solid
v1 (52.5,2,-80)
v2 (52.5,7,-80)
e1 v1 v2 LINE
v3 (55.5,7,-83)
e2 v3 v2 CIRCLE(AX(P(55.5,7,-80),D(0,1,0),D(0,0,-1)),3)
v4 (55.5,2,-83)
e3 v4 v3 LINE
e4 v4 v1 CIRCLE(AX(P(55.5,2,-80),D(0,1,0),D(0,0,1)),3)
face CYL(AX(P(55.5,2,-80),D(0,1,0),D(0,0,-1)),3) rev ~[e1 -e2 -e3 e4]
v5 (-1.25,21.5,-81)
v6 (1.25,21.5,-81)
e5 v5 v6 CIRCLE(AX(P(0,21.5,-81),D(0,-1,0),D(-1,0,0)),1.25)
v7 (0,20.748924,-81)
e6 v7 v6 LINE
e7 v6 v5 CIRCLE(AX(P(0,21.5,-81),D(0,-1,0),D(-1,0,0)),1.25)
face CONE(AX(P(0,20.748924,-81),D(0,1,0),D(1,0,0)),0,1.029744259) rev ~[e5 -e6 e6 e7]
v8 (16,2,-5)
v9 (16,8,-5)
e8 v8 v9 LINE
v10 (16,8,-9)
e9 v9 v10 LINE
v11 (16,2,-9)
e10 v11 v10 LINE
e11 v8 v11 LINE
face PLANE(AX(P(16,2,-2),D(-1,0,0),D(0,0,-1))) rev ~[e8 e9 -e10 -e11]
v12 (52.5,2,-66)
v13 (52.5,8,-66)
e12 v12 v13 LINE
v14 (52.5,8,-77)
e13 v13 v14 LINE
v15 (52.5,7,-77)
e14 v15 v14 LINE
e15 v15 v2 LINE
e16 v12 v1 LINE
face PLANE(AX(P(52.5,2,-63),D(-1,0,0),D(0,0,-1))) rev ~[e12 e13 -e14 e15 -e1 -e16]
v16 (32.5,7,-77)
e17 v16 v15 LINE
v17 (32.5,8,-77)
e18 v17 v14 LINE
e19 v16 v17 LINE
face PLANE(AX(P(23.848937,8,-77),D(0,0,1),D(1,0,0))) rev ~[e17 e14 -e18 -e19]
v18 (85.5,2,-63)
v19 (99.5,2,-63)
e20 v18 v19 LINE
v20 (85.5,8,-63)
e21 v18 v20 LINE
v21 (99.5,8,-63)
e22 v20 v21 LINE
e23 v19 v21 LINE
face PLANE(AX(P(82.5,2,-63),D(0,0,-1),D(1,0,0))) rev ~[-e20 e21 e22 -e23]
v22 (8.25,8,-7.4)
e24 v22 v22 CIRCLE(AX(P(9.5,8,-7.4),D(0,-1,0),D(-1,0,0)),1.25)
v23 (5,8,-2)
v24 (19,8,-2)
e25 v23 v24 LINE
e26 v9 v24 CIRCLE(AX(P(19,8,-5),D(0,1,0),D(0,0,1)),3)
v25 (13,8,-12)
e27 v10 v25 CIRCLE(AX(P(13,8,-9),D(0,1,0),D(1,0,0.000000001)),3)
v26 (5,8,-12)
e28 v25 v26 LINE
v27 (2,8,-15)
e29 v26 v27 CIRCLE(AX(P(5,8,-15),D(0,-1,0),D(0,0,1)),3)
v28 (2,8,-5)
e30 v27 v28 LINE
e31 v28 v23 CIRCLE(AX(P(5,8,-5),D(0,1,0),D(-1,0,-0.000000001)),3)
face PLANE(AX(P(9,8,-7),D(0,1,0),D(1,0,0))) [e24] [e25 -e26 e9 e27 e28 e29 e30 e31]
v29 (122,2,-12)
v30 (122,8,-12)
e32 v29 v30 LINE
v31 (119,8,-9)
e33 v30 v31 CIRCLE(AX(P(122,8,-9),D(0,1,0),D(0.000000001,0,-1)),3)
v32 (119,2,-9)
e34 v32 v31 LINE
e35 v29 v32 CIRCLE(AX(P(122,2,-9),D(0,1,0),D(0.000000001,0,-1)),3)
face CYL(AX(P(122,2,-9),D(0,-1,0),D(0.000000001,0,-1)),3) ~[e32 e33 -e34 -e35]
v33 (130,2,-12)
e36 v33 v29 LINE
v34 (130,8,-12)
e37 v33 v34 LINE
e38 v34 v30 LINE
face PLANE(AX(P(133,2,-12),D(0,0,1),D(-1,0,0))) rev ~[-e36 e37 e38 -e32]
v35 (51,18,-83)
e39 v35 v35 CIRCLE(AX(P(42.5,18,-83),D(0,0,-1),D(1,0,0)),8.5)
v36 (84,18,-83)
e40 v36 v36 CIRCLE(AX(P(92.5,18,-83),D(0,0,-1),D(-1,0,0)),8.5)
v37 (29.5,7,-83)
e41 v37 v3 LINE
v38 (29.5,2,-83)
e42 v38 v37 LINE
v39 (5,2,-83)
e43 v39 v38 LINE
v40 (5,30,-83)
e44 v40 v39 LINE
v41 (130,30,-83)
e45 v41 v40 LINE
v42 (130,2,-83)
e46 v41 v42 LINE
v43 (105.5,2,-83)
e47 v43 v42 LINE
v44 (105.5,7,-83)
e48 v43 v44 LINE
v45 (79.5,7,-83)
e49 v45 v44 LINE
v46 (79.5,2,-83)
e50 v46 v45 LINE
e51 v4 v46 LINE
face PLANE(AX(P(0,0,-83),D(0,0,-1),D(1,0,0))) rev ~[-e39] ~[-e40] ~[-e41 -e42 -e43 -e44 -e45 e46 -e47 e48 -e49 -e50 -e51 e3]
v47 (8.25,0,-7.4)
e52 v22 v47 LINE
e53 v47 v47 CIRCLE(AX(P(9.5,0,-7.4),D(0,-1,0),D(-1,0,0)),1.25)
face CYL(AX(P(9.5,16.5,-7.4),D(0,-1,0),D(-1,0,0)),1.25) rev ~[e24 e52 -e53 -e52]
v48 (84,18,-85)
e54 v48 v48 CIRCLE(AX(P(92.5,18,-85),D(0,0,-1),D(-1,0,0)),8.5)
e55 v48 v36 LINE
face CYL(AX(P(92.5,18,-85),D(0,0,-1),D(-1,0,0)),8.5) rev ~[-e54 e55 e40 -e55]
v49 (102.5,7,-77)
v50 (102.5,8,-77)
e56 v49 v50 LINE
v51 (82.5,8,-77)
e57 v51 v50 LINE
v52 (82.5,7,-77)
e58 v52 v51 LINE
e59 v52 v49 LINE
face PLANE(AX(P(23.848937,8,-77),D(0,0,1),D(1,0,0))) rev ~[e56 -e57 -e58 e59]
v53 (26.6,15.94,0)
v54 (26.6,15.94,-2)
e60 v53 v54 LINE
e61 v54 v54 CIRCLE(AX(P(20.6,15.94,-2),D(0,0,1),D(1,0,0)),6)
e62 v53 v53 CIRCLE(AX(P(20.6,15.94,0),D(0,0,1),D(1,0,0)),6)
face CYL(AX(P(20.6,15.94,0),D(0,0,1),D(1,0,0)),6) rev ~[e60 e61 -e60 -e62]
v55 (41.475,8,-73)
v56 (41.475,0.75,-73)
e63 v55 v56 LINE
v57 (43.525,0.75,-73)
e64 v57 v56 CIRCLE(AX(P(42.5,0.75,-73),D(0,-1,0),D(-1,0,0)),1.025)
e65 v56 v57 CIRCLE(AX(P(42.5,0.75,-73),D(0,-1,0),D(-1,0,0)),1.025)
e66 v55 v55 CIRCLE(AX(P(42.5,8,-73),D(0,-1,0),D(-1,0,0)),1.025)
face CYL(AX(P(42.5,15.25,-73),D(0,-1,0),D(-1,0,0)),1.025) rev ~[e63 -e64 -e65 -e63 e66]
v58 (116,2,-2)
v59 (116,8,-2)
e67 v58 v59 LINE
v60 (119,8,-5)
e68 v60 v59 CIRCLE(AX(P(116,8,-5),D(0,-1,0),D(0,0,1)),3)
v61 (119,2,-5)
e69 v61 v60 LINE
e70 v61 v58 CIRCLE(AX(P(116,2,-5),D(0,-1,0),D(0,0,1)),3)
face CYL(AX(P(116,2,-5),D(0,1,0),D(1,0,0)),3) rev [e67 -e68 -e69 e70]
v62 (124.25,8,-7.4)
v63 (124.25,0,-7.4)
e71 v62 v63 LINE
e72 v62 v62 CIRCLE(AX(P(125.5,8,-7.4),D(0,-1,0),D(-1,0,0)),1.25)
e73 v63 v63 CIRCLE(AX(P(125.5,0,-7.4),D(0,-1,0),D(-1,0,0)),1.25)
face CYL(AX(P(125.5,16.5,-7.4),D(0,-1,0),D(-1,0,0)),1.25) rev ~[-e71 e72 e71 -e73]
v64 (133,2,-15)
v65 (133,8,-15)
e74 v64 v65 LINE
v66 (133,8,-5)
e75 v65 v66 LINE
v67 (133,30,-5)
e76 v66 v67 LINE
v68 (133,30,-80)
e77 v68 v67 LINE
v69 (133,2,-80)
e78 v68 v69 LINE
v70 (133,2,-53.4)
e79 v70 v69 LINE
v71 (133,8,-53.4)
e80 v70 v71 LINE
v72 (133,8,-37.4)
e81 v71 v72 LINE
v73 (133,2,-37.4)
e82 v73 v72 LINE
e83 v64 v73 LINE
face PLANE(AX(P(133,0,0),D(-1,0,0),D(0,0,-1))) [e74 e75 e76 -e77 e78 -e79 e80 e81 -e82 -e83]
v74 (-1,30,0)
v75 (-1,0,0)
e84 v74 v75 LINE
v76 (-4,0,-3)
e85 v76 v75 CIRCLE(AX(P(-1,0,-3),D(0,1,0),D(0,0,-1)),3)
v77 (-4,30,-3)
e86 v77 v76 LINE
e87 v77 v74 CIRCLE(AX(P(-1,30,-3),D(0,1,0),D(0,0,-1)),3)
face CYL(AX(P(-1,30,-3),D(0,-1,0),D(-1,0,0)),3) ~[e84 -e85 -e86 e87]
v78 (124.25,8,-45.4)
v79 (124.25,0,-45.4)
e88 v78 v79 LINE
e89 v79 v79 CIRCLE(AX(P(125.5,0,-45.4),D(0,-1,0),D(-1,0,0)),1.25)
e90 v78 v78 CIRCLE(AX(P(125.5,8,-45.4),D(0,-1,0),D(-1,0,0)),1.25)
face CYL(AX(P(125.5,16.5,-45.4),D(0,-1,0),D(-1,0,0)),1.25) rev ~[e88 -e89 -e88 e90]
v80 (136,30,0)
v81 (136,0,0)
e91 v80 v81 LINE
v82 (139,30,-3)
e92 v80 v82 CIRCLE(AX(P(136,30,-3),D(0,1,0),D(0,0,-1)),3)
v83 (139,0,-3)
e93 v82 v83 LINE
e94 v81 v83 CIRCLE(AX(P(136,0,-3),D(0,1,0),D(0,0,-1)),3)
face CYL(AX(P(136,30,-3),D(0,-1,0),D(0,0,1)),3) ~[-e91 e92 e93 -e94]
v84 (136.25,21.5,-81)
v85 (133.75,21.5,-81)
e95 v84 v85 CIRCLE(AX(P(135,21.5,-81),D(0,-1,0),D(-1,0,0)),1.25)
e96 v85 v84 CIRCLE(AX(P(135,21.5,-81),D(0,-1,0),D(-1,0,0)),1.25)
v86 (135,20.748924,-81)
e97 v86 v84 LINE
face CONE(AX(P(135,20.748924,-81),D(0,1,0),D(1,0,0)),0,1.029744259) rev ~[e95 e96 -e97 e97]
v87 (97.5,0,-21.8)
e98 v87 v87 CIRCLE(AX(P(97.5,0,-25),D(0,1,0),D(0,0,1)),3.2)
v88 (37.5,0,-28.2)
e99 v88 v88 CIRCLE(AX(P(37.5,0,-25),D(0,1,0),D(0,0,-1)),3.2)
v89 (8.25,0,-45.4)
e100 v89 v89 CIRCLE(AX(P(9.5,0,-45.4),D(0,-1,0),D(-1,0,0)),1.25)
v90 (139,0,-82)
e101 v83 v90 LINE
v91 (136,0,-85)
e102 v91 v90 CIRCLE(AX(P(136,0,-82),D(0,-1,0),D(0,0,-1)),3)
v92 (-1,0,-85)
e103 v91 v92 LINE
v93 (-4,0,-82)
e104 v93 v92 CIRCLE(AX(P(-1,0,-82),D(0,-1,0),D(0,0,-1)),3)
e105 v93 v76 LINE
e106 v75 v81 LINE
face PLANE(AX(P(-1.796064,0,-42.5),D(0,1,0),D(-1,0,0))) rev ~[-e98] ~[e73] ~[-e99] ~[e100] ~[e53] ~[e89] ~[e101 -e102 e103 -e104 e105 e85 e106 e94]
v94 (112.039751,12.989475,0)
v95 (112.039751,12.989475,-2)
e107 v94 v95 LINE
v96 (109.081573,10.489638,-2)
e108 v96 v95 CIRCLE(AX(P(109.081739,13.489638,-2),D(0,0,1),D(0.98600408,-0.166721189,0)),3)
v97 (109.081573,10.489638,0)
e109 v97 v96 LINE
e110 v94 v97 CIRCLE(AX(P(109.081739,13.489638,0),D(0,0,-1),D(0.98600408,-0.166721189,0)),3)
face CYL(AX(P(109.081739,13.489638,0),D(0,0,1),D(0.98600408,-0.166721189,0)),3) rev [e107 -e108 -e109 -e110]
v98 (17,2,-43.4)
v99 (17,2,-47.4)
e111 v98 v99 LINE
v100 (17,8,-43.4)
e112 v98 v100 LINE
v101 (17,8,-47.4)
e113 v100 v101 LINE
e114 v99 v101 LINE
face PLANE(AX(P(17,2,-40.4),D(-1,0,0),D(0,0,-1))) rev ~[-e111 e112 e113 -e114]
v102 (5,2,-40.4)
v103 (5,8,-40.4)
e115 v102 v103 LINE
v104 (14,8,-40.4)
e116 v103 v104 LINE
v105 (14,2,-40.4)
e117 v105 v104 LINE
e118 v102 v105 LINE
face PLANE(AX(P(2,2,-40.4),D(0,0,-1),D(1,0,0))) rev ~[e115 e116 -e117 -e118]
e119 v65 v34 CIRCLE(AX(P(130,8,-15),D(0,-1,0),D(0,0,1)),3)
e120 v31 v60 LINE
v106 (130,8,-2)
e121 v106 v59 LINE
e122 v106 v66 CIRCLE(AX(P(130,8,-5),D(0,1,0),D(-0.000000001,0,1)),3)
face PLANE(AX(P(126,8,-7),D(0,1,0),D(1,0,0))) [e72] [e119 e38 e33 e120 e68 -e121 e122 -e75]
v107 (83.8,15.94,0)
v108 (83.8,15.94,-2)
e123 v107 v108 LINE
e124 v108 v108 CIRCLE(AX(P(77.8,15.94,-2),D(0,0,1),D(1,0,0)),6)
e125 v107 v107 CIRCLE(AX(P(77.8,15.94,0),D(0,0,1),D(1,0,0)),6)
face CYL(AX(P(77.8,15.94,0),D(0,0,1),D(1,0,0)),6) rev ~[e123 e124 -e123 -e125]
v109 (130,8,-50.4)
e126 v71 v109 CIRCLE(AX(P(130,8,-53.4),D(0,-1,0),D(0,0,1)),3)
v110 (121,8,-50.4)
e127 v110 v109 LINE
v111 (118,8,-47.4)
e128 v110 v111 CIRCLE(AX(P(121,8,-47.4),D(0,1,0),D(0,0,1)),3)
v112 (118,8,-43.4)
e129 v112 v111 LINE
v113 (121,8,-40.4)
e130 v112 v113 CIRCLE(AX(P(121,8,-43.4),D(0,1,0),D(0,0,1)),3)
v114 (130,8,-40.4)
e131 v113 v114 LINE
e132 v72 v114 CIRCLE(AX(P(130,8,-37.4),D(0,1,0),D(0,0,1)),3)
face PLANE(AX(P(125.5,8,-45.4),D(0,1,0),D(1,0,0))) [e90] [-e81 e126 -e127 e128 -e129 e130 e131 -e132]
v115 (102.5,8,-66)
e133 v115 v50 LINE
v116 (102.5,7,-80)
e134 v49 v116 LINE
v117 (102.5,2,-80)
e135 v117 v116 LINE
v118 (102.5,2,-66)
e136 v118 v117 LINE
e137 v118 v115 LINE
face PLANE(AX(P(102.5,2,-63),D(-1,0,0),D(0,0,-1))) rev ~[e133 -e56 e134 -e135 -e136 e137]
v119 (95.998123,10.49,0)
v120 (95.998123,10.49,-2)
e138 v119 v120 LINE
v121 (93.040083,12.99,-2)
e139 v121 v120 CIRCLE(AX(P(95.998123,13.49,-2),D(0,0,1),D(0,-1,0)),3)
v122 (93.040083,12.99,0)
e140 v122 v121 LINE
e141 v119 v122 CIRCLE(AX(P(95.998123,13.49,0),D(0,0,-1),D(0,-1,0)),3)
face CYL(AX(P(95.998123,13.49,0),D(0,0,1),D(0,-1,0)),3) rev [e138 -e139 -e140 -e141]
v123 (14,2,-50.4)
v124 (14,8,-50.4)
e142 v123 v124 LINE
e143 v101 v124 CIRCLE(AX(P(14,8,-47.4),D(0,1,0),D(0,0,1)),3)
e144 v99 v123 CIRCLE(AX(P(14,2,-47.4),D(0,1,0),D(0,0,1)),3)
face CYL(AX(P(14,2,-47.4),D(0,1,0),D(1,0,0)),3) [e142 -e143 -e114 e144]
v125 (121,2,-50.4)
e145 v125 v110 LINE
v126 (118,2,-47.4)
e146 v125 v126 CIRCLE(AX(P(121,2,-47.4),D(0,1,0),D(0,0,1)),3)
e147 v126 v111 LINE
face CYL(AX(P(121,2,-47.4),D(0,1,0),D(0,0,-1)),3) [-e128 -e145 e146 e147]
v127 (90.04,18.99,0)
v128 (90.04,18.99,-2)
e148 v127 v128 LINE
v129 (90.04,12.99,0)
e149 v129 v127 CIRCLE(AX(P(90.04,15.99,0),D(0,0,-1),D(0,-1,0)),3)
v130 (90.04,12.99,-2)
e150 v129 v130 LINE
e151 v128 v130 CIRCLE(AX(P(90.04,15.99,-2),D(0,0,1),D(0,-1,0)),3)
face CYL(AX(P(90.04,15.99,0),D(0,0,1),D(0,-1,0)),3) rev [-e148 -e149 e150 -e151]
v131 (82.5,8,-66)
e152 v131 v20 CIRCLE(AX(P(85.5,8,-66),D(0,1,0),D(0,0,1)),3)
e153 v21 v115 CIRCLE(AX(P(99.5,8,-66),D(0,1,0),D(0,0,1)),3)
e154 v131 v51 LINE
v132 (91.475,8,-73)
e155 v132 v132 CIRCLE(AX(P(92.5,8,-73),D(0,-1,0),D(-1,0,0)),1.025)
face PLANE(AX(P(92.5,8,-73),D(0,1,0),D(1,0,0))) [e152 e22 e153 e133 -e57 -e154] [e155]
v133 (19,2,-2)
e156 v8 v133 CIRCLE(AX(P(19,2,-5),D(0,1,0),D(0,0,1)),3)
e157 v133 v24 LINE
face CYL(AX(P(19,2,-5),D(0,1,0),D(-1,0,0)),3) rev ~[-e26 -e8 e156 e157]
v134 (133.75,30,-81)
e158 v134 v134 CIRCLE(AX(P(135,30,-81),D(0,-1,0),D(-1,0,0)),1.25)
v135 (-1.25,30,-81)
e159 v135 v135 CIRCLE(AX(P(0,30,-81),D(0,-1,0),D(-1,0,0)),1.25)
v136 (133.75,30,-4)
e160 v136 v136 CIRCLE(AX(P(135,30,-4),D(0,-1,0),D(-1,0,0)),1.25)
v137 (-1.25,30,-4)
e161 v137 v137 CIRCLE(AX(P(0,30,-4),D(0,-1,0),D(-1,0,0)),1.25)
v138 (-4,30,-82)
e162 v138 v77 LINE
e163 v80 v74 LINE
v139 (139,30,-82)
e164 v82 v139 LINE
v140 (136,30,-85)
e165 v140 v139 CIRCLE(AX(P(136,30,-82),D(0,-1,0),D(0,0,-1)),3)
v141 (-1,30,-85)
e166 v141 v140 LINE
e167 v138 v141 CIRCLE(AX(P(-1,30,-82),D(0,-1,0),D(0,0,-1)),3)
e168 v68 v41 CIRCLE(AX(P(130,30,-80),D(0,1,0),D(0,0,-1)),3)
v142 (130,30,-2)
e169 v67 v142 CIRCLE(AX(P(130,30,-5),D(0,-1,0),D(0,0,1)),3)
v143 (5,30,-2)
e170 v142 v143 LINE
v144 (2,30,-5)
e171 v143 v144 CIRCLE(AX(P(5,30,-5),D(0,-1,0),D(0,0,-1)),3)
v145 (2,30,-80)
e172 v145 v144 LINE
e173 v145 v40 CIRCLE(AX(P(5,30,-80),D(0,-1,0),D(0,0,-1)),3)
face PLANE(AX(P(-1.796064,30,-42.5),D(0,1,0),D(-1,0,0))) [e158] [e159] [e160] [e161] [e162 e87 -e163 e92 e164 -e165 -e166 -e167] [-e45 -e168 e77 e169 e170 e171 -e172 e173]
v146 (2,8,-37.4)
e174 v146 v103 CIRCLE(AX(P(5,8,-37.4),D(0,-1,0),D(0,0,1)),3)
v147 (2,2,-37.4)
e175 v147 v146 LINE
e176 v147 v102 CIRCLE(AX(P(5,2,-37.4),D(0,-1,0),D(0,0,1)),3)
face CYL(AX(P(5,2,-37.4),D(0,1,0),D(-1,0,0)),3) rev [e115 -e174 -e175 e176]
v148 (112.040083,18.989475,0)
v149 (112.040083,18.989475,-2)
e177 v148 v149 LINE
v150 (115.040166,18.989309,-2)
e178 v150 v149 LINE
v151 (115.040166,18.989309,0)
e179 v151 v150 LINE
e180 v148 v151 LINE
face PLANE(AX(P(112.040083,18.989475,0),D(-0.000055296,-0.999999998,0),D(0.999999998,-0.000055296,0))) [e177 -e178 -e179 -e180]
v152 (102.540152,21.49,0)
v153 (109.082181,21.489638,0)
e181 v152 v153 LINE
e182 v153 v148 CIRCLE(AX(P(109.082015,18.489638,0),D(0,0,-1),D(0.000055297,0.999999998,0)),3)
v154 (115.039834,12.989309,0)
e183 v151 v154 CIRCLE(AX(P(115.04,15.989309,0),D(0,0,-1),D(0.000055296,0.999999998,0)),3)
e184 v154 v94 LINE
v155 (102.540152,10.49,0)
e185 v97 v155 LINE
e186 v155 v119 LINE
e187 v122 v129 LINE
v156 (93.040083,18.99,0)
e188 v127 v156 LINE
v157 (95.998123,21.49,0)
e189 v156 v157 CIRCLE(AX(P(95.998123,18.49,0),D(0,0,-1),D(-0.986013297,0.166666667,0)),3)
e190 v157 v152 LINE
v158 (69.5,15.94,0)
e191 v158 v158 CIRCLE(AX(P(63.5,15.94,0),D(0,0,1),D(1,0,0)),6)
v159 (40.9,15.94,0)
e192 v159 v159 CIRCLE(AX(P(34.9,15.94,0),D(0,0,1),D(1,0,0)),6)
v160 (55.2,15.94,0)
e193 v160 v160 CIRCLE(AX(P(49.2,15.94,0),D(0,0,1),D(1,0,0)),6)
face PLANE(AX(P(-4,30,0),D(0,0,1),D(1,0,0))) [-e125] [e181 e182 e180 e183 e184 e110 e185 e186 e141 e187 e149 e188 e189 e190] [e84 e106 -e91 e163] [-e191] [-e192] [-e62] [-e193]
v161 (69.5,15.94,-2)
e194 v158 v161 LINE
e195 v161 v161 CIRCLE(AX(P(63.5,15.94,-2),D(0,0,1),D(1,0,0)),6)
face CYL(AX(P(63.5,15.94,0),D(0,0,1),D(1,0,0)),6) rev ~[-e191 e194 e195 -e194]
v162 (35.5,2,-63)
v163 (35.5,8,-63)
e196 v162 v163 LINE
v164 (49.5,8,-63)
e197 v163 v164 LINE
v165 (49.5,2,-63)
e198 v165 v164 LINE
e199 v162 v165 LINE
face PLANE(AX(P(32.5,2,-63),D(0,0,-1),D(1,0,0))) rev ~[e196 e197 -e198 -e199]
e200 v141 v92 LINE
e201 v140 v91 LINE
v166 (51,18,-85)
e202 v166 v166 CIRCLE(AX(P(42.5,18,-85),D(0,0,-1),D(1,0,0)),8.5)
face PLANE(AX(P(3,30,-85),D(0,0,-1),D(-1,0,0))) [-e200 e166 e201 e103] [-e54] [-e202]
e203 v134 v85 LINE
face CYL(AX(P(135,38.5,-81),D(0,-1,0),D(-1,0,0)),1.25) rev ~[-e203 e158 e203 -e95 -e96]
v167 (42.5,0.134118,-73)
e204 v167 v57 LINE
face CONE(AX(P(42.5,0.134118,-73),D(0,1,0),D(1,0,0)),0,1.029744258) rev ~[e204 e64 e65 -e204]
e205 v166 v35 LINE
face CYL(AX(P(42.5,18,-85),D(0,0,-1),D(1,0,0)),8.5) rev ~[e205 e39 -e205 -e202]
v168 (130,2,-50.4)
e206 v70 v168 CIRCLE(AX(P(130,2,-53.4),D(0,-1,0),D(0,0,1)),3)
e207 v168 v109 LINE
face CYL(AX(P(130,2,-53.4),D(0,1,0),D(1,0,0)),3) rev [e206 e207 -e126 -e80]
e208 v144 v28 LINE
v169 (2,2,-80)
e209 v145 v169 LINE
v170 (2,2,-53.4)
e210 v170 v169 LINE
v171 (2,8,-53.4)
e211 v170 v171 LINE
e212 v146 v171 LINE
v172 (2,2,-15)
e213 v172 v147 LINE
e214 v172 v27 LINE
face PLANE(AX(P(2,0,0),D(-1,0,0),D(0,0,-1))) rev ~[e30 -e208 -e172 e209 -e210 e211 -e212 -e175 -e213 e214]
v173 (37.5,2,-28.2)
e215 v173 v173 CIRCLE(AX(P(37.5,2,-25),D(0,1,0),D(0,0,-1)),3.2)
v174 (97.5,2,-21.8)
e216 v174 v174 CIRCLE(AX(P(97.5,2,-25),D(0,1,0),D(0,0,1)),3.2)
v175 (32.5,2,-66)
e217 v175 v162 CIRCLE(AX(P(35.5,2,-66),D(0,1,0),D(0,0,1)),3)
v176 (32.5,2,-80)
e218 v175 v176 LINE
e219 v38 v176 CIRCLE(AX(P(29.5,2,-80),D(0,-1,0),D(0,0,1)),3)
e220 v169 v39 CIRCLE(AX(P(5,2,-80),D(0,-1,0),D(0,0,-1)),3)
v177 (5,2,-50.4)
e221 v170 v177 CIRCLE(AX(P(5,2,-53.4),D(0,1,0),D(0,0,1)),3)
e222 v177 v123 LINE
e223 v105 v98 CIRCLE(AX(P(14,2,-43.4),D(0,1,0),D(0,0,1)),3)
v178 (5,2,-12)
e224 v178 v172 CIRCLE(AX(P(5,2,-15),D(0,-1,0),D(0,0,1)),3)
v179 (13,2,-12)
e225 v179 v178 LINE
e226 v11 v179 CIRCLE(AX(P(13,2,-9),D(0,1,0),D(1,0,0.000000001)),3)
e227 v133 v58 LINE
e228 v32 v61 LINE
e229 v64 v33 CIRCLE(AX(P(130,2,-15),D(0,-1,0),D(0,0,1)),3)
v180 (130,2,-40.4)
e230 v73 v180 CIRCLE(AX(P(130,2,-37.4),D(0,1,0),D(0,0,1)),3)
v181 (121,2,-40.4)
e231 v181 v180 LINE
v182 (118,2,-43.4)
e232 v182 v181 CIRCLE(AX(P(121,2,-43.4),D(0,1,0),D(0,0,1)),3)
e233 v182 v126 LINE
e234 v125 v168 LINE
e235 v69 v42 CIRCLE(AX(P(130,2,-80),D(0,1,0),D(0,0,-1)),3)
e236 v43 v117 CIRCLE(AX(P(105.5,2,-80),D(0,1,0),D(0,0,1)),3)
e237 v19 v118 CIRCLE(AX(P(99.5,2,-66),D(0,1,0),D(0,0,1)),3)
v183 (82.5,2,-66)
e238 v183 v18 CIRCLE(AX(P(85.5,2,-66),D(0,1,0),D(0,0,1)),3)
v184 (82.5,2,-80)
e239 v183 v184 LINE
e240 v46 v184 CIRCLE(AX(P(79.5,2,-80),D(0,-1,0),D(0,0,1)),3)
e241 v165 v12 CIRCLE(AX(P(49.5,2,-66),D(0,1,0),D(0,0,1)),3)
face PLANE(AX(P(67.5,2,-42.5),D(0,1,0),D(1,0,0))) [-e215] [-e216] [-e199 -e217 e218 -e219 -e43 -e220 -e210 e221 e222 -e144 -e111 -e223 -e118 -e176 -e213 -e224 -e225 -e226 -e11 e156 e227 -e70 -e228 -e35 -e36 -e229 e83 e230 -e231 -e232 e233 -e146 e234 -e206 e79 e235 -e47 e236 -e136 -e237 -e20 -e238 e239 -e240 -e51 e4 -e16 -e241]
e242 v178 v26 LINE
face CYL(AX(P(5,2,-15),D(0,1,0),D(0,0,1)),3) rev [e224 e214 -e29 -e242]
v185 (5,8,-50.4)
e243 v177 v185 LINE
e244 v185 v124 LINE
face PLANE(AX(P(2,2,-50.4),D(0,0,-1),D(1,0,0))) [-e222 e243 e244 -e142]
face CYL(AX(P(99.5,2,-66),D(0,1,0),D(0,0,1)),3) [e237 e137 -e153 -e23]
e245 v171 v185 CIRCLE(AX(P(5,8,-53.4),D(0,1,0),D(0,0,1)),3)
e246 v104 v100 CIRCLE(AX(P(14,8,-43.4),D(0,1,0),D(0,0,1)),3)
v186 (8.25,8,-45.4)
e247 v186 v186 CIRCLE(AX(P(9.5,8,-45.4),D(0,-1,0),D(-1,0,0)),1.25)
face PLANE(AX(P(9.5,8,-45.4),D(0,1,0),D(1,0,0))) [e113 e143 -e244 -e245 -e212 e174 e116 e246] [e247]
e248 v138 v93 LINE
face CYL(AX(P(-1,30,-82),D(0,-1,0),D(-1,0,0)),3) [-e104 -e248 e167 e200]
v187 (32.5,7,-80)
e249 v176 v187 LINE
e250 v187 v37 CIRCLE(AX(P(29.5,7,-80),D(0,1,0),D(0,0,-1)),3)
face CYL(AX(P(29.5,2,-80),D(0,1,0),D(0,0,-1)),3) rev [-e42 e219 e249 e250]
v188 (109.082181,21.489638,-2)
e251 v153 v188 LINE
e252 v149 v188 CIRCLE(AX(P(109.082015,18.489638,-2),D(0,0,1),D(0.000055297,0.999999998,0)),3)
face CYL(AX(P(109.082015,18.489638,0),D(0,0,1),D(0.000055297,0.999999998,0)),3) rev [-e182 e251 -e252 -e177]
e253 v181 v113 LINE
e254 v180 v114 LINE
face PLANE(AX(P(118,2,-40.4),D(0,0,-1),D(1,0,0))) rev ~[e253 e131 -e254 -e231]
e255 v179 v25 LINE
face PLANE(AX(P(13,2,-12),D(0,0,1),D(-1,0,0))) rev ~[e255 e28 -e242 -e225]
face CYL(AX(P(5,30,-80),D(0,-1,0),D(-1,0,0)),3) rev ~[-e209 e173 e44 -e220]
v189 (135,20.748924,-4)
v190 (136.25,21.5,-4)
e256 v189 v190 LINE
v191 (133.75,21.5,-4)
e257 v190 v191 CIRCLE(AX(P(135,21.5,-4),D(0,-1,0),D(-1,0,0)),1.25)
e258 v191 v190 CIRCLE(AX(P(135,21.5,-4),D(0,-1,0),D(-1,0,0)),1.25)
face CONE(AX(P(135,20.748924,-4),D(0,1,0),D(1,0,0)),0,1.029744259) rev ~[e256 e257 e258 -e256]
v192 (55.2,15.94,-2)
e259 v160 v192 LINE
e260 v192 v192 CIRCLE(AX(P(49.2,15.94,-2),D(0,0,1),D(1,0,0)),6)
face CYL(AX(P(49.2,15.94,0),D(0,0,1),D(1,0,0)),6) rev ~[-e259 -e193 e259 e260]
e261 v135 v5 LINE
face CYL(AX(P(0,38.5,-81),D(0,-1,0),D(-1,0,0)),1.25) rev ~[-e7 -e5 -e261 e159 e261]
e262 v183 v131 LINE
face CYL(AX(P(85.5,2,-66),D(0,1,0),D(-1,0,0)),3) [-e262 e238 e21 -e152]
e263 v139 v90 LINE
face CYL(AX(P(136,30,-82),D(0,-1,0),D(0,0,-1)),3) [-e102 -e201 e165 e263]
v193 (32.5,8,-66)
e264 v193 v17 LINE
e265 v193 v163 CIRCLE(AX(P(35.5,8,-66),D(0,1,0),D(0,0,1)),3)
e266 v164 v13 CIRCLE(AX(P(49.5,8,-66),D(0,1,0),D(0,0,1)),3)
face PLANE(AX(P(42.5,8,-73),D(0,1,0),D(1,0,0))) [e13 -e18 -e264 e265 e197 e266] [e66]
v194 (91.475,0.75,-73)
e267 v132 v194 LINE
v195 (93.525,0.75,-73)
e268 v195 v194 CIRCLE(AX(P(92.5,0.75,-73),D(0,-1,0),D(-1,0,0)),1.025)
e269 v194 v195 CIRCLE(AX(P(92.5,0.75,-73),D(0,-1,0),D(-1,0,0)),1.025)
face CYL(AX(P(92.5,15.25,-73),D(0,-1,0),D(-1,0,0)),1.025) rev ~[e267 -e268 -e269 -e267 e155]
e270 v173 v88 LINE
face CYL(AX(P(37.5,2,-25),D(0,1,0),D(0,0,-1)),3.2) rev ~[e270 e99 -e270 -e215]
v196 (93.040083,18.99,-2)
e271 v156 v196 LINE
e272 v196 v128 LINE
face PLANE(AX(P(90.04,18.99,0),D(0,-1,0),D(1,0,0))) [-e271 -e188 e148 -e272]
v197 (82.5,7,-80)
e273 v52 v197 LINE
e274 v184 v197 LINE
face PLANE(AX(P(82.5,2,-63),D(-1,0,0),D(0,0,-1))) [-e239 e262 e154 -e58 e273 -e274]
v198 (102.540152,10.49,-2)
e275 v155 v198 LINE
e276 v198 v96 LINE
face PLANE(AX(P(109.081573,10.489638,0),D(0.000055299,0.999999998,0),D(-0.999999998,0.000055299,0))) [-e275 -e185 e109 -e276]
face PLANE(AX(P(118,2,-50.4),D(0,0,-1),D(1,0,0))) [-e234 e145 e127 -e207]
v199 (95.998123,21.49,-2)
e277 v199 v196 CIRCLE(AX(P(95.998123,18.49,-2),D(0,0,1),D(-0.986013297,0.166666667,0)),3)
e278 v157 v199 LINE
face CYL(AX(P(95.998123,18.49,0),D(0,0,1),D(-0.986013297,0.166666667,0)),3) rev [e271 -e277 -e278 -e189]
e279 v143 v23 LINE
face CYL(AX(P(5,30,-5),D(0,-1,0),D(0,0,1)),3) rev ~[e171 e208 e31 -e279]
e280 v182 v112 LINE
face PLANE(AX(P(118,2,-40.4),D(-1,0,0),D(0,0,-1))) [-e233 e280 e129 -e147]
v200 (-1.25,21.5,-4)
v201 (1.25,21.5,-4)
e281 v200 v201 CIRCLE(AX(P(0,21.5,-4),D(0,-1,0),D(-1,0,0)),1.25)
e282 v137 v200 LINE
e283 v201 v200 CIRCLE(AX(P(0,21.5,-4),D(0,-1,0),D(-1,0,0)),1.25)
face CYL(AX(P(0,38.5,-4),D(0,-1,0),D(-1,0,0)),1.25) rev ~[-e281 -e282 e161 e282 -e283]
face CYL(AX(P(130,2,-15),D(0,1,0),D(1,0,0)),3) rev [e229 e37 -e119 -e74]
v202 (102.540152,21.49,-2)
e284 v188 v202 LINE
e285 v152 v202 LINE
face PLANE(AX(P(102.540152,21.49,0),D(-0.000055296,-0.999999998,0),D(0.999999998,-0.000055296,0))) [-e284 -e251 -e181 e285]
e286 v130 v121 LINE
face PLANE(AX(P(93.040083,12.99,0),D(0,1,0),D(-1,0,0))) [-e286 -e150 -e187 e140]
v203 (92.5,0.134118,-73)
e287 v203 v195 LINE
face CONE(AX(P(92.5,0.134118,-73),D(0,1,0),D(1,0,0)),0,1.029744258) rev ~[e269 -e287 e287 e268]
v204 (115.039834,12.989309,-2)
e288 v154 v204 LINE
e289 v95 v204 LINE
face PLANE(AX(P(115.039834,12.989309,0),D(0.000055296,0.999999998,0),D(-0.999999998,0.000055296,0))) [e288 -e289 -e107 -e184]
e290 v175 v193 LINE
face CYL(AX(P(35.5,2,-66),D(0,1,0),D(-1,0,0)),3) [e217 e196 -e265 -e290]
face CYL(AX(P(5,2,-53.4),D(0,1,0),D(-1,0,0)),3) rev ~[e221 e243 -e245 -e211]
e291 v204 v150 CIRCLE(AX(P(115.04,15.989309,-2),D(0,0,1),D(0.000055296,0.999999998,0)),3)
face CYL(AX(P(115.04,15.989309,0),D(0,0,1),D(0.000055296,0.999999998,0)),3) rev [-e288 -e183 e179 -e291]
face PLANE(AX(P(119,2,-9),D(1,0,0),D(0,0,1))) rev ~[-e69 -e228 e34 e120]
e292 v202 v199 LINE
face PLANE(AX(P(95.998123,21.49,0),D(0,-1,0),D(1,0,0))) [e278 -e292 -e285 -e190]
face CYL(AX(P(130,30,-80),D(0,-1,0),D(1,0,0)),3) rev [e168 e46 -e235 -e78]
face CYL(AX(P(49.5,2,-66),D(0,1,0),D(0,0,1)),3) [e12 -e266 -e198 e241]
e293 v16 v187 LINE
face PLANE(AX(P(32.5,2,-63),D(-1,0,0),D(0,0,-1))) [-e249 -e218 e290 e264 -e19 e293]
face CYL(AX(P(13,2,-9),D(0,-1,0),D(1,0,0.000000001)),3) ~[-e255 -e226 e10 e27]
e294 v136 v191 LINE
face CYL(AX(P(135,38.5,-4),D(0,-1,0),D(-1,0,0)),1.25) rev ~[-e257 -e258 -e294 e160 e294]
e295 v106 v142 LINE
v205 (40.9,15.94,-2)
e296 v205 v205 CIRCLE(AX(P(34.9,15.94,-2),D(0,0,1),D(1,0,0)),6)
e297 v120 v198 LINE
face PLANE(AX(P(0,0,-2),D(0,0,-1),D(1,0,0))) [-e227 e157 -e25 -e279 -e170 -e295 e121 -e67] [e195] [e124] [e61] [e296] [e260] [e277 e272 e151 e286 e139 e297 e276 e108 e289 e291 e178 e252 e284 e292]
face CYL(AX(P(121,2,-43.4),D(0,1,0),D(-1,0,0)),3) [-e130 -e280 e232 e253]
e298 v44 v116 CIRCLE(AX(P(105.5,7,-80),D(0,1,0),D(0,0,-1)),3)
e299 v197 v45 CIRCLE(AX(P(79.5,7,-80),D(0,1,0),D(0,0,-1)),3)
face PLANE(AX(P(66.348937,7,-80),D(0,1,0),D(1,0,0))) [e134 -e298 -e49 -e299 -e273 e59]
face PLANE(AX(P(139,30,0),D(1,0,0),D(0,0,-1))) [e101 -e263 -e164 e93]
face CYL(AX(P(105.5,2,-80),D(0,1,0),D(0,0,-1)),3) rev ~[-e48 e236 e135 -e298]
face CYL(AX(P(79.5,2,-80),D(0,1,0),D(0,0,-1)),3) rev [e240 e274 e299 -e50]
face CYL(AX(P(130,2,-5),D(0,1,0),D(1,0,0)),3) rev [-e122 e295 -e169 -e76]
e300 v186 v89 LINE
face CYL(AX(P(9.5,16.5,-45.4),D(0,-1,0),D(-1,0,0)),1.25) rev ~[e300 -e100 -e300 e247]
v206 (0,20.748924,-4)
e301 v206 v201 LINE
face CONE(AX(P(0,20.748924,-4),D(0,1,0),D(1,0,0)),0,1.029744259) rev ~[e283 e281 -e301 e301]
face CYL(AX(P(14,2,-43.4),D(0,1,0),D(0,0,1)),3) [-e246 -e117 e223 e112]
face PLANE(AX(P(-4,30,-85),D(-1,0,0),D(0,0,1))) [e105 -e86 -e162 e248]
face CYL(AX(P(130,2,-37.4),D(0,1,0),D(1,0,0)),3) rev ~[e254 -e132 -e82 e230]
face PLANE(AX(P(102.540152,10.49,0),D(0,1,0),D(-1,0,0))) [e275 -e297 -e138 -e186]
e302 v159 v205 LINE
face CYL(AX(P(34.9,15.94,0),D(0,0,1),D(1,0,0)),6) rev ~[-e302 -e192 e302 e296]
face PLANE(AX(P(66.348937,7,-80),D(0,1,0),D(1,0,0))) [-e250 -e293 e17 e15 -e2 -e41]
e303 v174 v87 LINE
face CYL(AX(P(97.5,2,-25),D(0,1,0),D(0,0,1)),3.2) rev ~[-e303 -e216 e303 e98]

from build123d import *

# Parameters (mm, degrees)
SKIZZE1_W                       = 135
SKIZZE1_H                       = 85
AUFSATZ_LINEAR_AUSTRAGEN1_DEPTH = 30
SCHALE1_T                       = -2
SKIZZE2_R                       = 6
SCHNITT_LINEAR_AUSTRAGEN1_DEPTH = 30
SCHNITT_LINEAR_AUSTRAGEN2_DEPTH = 10
VERRUNDUNG1_R                   = 3
AUFSATZ_LINEAR_AUSTRAGEN2_DEPTH = 6
VERRUNDUNG2_R                   = 3
SKIZZE5_W                       = 15
SKIZZE5_H                       = 10
AUFSATZ_LINEAR_AUSTRAGEN3_DEPTH = 6
VERRUNDUNG3_R                   = 3
SKIZZE6_R                       = 8.5
SCHNITT_LINEAR_AUSTRAGEN3_DEPTH = 5
SKIZZE7_W                       = 20
SKIZZE7_H                       = 20
AUFSATZ_LINEAR_AUSTRAGEN4_DEPTH = 6
VERRUNDUNG4_R                   = 3
M3_GEWINDEBOHRUNG1_D            = 2.5
M3_GEWINDEBOHRUNG1_DEPTH        = 8.5
M3_GEWINDEBOHRUNG1_TIP          = 0.751075774
M2_5_GEWINDEBOHRUNG1_D          = 2.05
M2_5_GEWINDEBOHRUNG1_DEPTH      = 7.25
M2_5_GEWINDEBOHRUNG1_TIP        = 0.615882135
SKIZZE12_W                      = 85
SKIZZE12_H                      = 6
SCHNITT_LINEAR_AUSTRAGEN4_DEPTH = 1
SKIZZE13_R                      = 3.2
SCHNITT_LINEAR_AUSTRAGEN5_DEPTH = 10
AUFSATZ_LINEAR_START            = -30
AUFSATZ_LINEAR_AUSTRAGEN5_DEPTH = 30
M3_GEWINDEBOHRUNG2_D            = 2.5
M3_GEWINDEBOHRUNG2_DEPTH        = 8.5
M3_GEWINDEBOHRUNG2_TIP          = 0.751075774
VERRUNDUNG5_R                   = 3


with BuildPart() as part:
    # Skizze1 → Aufsatz-Linear austragen1 (new body)
    with BuildSketch(Plane(origin=(0, 0, 0), x_dir=(1, 0, 0), z_dir=(0, 1, 0))):
        with Locations((67.5, 42.5)):
            Rectangle(SKIZZE1_W, SKIZZE1_H)
    extrude(amount=AUFSATZ_LINEAR_AUSTRAGEN1_DEPTH)

    # Schale1
    schale1_openings = [part.faces().sort_by_distance(p)[0] for p in [
        (67.5, 30, -42.5),
    ]]
    offset(amount=SCHALE1_T, openings=schale1_openings, kind=Kind.INTERSECTION)

    # Skizze2 → Schnitt-Linear austragen1 (cut)
    with BuildSketch(Plane.XY):
        with Locations((20.6, 15.94)):
            Circle(SKIZZE2_R)
        with Locations((34.9, 15.94)):
            Circle(SKIZZE2_R)
        with Locations((49.2, 15.94)):
            Circle(SKIZZE2_R)
        with Locations((63.5, 15.94)):
            Circle(SKIZZE2_R)
        with Locations((77.8, 15.94)):
            Circle(SKIZZE2_R)
    extrude(amount=-SCHNITT_LINEAR_AUSTRAGEN1_DEPTH, mode=Mode.SUBTRACT)

    # Skizze3 → Schnitt-Linear austragen2 (cut)
    with BuildSketch(Plane.XY):
        with BuildLine():
            ThreePointArc((109.082181292, 21.48963825), (111.018633773, 20.780819017), (112.040082938, 18.989474685))
            Line((112.040082938, 18.989474685), (115.04016588, 18.989308791))
            ThreePointArc((115.04016588, 18.989308791), (118.039999986, 15.989142906), (115.039834101, 12.9893088))
            Line((115.039834101, 12.9893088), (112.03975116, 12.989474694))
            ThreePointArc((112.03975116, 12.989474694), (111.018103892, 11.198243337), (109.081573032, 10.489638266))
            Line((109.081573032, 10.489638266), (102.54015207, 10.49))
            Line((102.54015207, 10.49), (95.998122837, 10.49))
            ThreePointArc((95.998122837, 10.49), (94.061631164, 11.198712153), (93.040082946, 12.99))
            Line((93.040082946, 12.99), (90.04, 12.99))
            ThreePointArc((90.04, 12.99), (87.04, 15.99), (90.04, 18.99))
            Line((90.04, 18.99), (93.040082946, 18.99))
            ThreePointArc((93.040082946, 18.99), (94.061631164, 20.781287847), (95.998122837, 21.49))
            Line((95.998122837, 21.49), (102.54015207, 21.49))
            Line((102.54015207, 21.49), (109.082181292, 21.48963825))
        make_face()
    extrude(amount=-SCHNITT_LINEAR_AUSTRAGEN2_DEPTH, mode=Mode.SUBTRACT)

    # Verrundung1
    verrundung1_edges = [part.edges().sort_by_distance(p)[0] for p in [
        (2, 16, -83),
        (2, 16, -2),
        (133, 16, -2),
        (133, 16, -83),
        (0, 15, -85),
        (135, 15, -85),
        (135, 15, 0),
        (0, 15, 0),
    ]]
    fillet(verrundung1_edges, radius=VERRUNDUNG1_R)

    # Skizze4 → Aufsatz-Linear austragen2 (add)
    with BuildSketch(Plane(origin=(0, 2, 0), x_dir=(1, 0, 0), z_dir=(0, 1, 0))):
        with BuildLine():
            Line((13, 12), (2, 12))
            Line((2, 12), (2, 5))
            ThreePointArc((2, 5), (2.878679656, 2.878679656), (5, 2))
            Line((5, 2), (16, 2))
            Line((16, 2), (16, 9))
            ThreePointArc((16, 9), (15.121320344, 11.121320344), (13, 12))
        make_face()
        with BuildLine():
            Line((119, 9), (119, 2))
            Line((119, 2), (130, 2))
            ThreePointArc((130, 2), (132.121320344, 2.878679656), (133, 5))
            Line((133, 5), (133, 12))
            Line((133, 12), (122, 12))
            ThreePointArc((122, 12), (119.878679656, 11.121320344), (119, 9))
        make_face()
    extrude(amount=AUFSATZ_LINEAR_AUSTRAGEN2_DEPTH)

    # Verrundung2
    verrundung2_edges = [part.edges().sort_by_distance(p)[0] for p in [
        (2, 5, -12),
        (16, 5, -2),
        (133, 5, -12),
        (119, 5, -2),
    ]]
    fillet(verrundung2_edges, radius=VERRUNDUNG2_R)

    # Skizze5 → Aufsatz-Linear austragen3 (add)
    with BuildSketch(Plane(origin=(0, 2, 0), x_dir=(1, 0, 0), z_dir=(0, 1, 0))):
        with Locations((9.5, 45.4)):
            Rectangle(SKIZZE5_W, SKIZZE5_H)
        with Locations((125.5, 45.4)):
            Rectangle(SKIZZE5_W, SKIZZE5_H)
    extrude(amount=AUFSATZ_LINEAR_AUSTRAGEN3_DEPTH)

    # Verrundung3
    verrundung3_edges = [part.edges().sort_by_distance(p)[0] for p in [
        (2, 5, -50.4),
        (2, 5, -40.4),
        (17, 5, -40.4),
        (17, 5, -50.4),
        (133, 5, -50.4),
        (118, 5, -50.4),
        (118, 5, -40.4),
        (133, 5, -40.4),
    ]]
    fillet(verrundung3_edges, radius=VERRUNDUNG3_R)

    # Skizze6 → Schnitt-Linear austragen3 (cut)
    with BuildSketch(Plane(origin=(0, 0, -85), x_dir=(-1, 0, 0), z_dir=(0, 0, -1))):
        with Locations((-92.5, 18)):
            Circle(SKIZZE6_R)
        with Locations(Location((-42.5, 18, 0), (0, 0, 180))):
            Circle(SKIZZE6_R)
    extrude(amount=-SCHNITT_LINEAR_AUSTRAGEN3_DEPTH, mode=Mode.SUBTRACT)

    # Skizze7 → Aufsatz-Linear austragen4 (add)
    with BuildSketch(Plane(origin=(0, 2, 0), x_dir=(1, 0, 0), z_dir=(0, 1, 0))):
        with Locations((42.5, 73)):
            Rectangle(SKIZZE7_W, SKIZZE7_H)
        with Locations((92.5, 73)):
            Rectangle(SKIZZE7_W, SKIZZE7_H)
    extrude(amount=AUFSATZ_LINEAR_AUSTRAGEN4_DEPTH)

    # Verrundung4
    verrundung4_edges = [part.edges().sort_by_distance(p)[0] for p in [
        (32.5, 5, -63),
        (52.5, 5, -63),
        (52.5, 5, -83),
        (32.5, 5, -83),
        (82.5, 5, -63),
        (102.5, 5, -63),
        (102.5, 5, -83),
        (82.5, 5, -83),
    ]]
    fillet(verrundung4_edges, radius=VERRUNDUNG4_R)

    # M3 Gewindebohrung1
    with Locations(Plane(origin=(0, 8, 0), x_dir=(1, 0, 0), z_dir=(0, 1, 0))):
        with Locations((125.5, 7.4), (9.5, 45.4), (125.5, 45.4), (9.5, 7.4)):
            Hole(M3_GEWINDEBOHRUNG1_D / 2, depth=M3_GEWINDEBOHRUNG1_DEPTH)
            with Locations((0, 0, -(M3_GEWINDEBOHRUNG1_DEPTH + M3_GEWINDEBOHRUNG1_TIP / 2))):  # 118° drill point
                Cone(0, M3_GEWINDEBOHRUNG1_D / 2, M3_GEWINDEBOHRUNG1_TIP, mode=Mode.SUBTRACT)

    # M2.5 Gewindebohrung1
    with Locations(Plane(origin=(0, 8, 0), x_dir=(1, 0, 0), z_dir=(0, 1, 0))):
        with Locations((42.5, 73), (92.5, 73)):
            Hole(M2_5_GEWINDEBOHRUNG1_D / 2, depth=M2_5_GEWINDEBOHRUNG1_DEPTH)
            with Locations((0, 0, -(M2_5_GEWINDEBOHRUNG1_DEPTH + M2_5_GEWINDEBOHRUNG1_TIP / 2))):  # 118° drill point
                Cone(0, M2_5_GEWINDEBOHRUNG1_D / 2, M2_5_GEWINDEBOHRUNG1_TIP, mode=Mode.SUBTRACT)

    # Skizze12 → Schnitt-Linear austragen4 (cut)
    with BuildSketch(Plane(origin=(0, 8, 0), x_dir=(1, 0, 0), z_dir=(0, 1, 0))):
        with Locations((66.348936769, 80)):
            Rectangle(SKIZZE12_W, SKIZZE12_H)
    extrude(amount=-SCHNITT_LINEAR_AUSTRAGEN4_DEPTH, mode=Mode.SUBTRACT)

    # Skizze13 → Schnitt-Linear austragen5 (cut)
    with BuildSketch(Plane(origin=(0, 2, 0), x_dir=(1, 0, 0), z_dir=(0, 1, 0))):
        with Locations(Location((97.5, 25, 0), (0, 0, 270))):
            Circle(SKIZZE13_R)
        with Locations(Location((37.5, 25, 0), (0, 0, 90))):
            Circle(SKIZZE13_R)
    extrude(amount=-SCHNITT_LINEAR_AUSTRAGEN5_DEPTH, mode=Mode.SUBTRACT)

    # Skizze14 → Aufsatz-Linear austragen5 (add)
    with BuildSketch(Plane.XZ.offset(AUFSATZ_LINEAR_START)):
        with BuildLine():
            Line((0, -85), (-4, -85))
            Line((-4, -85), (-4, 0))
            Line((-4, 0), (0, 0))
            Line((0, 0), (3, 0))
            ThreePointArc((3, 0), (0.878679656, -0.878679656), (0, -3))
            Line((0, -3), (0, -82))
            ThreePointArc((0, -82), (0.878679656, -84.121320344), (3, -85))
            Line((3, -85), (0, -85))
        make_face()
        with BuildLine():
            Line((135, 0), (139, 0))
            Line((139, 0), (139, -85))
            Line((139, -85), (135, -85))
            Line((135, -85), (132, -85))
            ThreePointArc((132, -85), (134.121320344, -84.121320344), (135, -82))
            Line((135, -82), (135, -3))
            ThreePointArc((135, -3), (134.121320344, -0.878679656), (132, 0))
            Line((132, 0), (135, 0))
        make_face()
    extrude(amount=AUFSATZ_LINEAR_AUSTRAGEN5_DEPTH)

    # M3 Gewindebohrung2
    with Locations(Plane(origin=(76.74477579, 30, -27.1140539), x_dir=(1, 0, 0), z_dir=(0, 1, 0))):
        with Locations((-76.74477579, -23.1140539), (58.25522421, 53.8859461), (-76.74477579, 53.8859461), (58.25522421, -23.1140539)):
            Hole(M3_GEWINDEBOHRUNG2_D / 2, depth=M3_GEWINDEBOHRUNG2_DEPTH)
            with Locations((0, 0, -(M3_GEWINDEBOHRUNG2_DEPTH + M3_GEWINDEBOHRUNG2_TIP / 2))):  # 118° drill point
                Cone(0, M3_GEWINDEBOHRUNG2_D / 2, M3_GEWINDEBOHRUNG2_TIP, mode=Mode.SUBTRACT)

    # Verrundung5
    verrundung5_edges = [part.edges().sort_by_distance(p)[0] for p in [
        (-4, 15, -85),
        (-4, 15, 0),
        (139, 15, 0),
        (139, 15, -85),
    ]]
    fillet(verrundung5_edges, radius=VERRUNDUNG5_R)


solid = part.part
